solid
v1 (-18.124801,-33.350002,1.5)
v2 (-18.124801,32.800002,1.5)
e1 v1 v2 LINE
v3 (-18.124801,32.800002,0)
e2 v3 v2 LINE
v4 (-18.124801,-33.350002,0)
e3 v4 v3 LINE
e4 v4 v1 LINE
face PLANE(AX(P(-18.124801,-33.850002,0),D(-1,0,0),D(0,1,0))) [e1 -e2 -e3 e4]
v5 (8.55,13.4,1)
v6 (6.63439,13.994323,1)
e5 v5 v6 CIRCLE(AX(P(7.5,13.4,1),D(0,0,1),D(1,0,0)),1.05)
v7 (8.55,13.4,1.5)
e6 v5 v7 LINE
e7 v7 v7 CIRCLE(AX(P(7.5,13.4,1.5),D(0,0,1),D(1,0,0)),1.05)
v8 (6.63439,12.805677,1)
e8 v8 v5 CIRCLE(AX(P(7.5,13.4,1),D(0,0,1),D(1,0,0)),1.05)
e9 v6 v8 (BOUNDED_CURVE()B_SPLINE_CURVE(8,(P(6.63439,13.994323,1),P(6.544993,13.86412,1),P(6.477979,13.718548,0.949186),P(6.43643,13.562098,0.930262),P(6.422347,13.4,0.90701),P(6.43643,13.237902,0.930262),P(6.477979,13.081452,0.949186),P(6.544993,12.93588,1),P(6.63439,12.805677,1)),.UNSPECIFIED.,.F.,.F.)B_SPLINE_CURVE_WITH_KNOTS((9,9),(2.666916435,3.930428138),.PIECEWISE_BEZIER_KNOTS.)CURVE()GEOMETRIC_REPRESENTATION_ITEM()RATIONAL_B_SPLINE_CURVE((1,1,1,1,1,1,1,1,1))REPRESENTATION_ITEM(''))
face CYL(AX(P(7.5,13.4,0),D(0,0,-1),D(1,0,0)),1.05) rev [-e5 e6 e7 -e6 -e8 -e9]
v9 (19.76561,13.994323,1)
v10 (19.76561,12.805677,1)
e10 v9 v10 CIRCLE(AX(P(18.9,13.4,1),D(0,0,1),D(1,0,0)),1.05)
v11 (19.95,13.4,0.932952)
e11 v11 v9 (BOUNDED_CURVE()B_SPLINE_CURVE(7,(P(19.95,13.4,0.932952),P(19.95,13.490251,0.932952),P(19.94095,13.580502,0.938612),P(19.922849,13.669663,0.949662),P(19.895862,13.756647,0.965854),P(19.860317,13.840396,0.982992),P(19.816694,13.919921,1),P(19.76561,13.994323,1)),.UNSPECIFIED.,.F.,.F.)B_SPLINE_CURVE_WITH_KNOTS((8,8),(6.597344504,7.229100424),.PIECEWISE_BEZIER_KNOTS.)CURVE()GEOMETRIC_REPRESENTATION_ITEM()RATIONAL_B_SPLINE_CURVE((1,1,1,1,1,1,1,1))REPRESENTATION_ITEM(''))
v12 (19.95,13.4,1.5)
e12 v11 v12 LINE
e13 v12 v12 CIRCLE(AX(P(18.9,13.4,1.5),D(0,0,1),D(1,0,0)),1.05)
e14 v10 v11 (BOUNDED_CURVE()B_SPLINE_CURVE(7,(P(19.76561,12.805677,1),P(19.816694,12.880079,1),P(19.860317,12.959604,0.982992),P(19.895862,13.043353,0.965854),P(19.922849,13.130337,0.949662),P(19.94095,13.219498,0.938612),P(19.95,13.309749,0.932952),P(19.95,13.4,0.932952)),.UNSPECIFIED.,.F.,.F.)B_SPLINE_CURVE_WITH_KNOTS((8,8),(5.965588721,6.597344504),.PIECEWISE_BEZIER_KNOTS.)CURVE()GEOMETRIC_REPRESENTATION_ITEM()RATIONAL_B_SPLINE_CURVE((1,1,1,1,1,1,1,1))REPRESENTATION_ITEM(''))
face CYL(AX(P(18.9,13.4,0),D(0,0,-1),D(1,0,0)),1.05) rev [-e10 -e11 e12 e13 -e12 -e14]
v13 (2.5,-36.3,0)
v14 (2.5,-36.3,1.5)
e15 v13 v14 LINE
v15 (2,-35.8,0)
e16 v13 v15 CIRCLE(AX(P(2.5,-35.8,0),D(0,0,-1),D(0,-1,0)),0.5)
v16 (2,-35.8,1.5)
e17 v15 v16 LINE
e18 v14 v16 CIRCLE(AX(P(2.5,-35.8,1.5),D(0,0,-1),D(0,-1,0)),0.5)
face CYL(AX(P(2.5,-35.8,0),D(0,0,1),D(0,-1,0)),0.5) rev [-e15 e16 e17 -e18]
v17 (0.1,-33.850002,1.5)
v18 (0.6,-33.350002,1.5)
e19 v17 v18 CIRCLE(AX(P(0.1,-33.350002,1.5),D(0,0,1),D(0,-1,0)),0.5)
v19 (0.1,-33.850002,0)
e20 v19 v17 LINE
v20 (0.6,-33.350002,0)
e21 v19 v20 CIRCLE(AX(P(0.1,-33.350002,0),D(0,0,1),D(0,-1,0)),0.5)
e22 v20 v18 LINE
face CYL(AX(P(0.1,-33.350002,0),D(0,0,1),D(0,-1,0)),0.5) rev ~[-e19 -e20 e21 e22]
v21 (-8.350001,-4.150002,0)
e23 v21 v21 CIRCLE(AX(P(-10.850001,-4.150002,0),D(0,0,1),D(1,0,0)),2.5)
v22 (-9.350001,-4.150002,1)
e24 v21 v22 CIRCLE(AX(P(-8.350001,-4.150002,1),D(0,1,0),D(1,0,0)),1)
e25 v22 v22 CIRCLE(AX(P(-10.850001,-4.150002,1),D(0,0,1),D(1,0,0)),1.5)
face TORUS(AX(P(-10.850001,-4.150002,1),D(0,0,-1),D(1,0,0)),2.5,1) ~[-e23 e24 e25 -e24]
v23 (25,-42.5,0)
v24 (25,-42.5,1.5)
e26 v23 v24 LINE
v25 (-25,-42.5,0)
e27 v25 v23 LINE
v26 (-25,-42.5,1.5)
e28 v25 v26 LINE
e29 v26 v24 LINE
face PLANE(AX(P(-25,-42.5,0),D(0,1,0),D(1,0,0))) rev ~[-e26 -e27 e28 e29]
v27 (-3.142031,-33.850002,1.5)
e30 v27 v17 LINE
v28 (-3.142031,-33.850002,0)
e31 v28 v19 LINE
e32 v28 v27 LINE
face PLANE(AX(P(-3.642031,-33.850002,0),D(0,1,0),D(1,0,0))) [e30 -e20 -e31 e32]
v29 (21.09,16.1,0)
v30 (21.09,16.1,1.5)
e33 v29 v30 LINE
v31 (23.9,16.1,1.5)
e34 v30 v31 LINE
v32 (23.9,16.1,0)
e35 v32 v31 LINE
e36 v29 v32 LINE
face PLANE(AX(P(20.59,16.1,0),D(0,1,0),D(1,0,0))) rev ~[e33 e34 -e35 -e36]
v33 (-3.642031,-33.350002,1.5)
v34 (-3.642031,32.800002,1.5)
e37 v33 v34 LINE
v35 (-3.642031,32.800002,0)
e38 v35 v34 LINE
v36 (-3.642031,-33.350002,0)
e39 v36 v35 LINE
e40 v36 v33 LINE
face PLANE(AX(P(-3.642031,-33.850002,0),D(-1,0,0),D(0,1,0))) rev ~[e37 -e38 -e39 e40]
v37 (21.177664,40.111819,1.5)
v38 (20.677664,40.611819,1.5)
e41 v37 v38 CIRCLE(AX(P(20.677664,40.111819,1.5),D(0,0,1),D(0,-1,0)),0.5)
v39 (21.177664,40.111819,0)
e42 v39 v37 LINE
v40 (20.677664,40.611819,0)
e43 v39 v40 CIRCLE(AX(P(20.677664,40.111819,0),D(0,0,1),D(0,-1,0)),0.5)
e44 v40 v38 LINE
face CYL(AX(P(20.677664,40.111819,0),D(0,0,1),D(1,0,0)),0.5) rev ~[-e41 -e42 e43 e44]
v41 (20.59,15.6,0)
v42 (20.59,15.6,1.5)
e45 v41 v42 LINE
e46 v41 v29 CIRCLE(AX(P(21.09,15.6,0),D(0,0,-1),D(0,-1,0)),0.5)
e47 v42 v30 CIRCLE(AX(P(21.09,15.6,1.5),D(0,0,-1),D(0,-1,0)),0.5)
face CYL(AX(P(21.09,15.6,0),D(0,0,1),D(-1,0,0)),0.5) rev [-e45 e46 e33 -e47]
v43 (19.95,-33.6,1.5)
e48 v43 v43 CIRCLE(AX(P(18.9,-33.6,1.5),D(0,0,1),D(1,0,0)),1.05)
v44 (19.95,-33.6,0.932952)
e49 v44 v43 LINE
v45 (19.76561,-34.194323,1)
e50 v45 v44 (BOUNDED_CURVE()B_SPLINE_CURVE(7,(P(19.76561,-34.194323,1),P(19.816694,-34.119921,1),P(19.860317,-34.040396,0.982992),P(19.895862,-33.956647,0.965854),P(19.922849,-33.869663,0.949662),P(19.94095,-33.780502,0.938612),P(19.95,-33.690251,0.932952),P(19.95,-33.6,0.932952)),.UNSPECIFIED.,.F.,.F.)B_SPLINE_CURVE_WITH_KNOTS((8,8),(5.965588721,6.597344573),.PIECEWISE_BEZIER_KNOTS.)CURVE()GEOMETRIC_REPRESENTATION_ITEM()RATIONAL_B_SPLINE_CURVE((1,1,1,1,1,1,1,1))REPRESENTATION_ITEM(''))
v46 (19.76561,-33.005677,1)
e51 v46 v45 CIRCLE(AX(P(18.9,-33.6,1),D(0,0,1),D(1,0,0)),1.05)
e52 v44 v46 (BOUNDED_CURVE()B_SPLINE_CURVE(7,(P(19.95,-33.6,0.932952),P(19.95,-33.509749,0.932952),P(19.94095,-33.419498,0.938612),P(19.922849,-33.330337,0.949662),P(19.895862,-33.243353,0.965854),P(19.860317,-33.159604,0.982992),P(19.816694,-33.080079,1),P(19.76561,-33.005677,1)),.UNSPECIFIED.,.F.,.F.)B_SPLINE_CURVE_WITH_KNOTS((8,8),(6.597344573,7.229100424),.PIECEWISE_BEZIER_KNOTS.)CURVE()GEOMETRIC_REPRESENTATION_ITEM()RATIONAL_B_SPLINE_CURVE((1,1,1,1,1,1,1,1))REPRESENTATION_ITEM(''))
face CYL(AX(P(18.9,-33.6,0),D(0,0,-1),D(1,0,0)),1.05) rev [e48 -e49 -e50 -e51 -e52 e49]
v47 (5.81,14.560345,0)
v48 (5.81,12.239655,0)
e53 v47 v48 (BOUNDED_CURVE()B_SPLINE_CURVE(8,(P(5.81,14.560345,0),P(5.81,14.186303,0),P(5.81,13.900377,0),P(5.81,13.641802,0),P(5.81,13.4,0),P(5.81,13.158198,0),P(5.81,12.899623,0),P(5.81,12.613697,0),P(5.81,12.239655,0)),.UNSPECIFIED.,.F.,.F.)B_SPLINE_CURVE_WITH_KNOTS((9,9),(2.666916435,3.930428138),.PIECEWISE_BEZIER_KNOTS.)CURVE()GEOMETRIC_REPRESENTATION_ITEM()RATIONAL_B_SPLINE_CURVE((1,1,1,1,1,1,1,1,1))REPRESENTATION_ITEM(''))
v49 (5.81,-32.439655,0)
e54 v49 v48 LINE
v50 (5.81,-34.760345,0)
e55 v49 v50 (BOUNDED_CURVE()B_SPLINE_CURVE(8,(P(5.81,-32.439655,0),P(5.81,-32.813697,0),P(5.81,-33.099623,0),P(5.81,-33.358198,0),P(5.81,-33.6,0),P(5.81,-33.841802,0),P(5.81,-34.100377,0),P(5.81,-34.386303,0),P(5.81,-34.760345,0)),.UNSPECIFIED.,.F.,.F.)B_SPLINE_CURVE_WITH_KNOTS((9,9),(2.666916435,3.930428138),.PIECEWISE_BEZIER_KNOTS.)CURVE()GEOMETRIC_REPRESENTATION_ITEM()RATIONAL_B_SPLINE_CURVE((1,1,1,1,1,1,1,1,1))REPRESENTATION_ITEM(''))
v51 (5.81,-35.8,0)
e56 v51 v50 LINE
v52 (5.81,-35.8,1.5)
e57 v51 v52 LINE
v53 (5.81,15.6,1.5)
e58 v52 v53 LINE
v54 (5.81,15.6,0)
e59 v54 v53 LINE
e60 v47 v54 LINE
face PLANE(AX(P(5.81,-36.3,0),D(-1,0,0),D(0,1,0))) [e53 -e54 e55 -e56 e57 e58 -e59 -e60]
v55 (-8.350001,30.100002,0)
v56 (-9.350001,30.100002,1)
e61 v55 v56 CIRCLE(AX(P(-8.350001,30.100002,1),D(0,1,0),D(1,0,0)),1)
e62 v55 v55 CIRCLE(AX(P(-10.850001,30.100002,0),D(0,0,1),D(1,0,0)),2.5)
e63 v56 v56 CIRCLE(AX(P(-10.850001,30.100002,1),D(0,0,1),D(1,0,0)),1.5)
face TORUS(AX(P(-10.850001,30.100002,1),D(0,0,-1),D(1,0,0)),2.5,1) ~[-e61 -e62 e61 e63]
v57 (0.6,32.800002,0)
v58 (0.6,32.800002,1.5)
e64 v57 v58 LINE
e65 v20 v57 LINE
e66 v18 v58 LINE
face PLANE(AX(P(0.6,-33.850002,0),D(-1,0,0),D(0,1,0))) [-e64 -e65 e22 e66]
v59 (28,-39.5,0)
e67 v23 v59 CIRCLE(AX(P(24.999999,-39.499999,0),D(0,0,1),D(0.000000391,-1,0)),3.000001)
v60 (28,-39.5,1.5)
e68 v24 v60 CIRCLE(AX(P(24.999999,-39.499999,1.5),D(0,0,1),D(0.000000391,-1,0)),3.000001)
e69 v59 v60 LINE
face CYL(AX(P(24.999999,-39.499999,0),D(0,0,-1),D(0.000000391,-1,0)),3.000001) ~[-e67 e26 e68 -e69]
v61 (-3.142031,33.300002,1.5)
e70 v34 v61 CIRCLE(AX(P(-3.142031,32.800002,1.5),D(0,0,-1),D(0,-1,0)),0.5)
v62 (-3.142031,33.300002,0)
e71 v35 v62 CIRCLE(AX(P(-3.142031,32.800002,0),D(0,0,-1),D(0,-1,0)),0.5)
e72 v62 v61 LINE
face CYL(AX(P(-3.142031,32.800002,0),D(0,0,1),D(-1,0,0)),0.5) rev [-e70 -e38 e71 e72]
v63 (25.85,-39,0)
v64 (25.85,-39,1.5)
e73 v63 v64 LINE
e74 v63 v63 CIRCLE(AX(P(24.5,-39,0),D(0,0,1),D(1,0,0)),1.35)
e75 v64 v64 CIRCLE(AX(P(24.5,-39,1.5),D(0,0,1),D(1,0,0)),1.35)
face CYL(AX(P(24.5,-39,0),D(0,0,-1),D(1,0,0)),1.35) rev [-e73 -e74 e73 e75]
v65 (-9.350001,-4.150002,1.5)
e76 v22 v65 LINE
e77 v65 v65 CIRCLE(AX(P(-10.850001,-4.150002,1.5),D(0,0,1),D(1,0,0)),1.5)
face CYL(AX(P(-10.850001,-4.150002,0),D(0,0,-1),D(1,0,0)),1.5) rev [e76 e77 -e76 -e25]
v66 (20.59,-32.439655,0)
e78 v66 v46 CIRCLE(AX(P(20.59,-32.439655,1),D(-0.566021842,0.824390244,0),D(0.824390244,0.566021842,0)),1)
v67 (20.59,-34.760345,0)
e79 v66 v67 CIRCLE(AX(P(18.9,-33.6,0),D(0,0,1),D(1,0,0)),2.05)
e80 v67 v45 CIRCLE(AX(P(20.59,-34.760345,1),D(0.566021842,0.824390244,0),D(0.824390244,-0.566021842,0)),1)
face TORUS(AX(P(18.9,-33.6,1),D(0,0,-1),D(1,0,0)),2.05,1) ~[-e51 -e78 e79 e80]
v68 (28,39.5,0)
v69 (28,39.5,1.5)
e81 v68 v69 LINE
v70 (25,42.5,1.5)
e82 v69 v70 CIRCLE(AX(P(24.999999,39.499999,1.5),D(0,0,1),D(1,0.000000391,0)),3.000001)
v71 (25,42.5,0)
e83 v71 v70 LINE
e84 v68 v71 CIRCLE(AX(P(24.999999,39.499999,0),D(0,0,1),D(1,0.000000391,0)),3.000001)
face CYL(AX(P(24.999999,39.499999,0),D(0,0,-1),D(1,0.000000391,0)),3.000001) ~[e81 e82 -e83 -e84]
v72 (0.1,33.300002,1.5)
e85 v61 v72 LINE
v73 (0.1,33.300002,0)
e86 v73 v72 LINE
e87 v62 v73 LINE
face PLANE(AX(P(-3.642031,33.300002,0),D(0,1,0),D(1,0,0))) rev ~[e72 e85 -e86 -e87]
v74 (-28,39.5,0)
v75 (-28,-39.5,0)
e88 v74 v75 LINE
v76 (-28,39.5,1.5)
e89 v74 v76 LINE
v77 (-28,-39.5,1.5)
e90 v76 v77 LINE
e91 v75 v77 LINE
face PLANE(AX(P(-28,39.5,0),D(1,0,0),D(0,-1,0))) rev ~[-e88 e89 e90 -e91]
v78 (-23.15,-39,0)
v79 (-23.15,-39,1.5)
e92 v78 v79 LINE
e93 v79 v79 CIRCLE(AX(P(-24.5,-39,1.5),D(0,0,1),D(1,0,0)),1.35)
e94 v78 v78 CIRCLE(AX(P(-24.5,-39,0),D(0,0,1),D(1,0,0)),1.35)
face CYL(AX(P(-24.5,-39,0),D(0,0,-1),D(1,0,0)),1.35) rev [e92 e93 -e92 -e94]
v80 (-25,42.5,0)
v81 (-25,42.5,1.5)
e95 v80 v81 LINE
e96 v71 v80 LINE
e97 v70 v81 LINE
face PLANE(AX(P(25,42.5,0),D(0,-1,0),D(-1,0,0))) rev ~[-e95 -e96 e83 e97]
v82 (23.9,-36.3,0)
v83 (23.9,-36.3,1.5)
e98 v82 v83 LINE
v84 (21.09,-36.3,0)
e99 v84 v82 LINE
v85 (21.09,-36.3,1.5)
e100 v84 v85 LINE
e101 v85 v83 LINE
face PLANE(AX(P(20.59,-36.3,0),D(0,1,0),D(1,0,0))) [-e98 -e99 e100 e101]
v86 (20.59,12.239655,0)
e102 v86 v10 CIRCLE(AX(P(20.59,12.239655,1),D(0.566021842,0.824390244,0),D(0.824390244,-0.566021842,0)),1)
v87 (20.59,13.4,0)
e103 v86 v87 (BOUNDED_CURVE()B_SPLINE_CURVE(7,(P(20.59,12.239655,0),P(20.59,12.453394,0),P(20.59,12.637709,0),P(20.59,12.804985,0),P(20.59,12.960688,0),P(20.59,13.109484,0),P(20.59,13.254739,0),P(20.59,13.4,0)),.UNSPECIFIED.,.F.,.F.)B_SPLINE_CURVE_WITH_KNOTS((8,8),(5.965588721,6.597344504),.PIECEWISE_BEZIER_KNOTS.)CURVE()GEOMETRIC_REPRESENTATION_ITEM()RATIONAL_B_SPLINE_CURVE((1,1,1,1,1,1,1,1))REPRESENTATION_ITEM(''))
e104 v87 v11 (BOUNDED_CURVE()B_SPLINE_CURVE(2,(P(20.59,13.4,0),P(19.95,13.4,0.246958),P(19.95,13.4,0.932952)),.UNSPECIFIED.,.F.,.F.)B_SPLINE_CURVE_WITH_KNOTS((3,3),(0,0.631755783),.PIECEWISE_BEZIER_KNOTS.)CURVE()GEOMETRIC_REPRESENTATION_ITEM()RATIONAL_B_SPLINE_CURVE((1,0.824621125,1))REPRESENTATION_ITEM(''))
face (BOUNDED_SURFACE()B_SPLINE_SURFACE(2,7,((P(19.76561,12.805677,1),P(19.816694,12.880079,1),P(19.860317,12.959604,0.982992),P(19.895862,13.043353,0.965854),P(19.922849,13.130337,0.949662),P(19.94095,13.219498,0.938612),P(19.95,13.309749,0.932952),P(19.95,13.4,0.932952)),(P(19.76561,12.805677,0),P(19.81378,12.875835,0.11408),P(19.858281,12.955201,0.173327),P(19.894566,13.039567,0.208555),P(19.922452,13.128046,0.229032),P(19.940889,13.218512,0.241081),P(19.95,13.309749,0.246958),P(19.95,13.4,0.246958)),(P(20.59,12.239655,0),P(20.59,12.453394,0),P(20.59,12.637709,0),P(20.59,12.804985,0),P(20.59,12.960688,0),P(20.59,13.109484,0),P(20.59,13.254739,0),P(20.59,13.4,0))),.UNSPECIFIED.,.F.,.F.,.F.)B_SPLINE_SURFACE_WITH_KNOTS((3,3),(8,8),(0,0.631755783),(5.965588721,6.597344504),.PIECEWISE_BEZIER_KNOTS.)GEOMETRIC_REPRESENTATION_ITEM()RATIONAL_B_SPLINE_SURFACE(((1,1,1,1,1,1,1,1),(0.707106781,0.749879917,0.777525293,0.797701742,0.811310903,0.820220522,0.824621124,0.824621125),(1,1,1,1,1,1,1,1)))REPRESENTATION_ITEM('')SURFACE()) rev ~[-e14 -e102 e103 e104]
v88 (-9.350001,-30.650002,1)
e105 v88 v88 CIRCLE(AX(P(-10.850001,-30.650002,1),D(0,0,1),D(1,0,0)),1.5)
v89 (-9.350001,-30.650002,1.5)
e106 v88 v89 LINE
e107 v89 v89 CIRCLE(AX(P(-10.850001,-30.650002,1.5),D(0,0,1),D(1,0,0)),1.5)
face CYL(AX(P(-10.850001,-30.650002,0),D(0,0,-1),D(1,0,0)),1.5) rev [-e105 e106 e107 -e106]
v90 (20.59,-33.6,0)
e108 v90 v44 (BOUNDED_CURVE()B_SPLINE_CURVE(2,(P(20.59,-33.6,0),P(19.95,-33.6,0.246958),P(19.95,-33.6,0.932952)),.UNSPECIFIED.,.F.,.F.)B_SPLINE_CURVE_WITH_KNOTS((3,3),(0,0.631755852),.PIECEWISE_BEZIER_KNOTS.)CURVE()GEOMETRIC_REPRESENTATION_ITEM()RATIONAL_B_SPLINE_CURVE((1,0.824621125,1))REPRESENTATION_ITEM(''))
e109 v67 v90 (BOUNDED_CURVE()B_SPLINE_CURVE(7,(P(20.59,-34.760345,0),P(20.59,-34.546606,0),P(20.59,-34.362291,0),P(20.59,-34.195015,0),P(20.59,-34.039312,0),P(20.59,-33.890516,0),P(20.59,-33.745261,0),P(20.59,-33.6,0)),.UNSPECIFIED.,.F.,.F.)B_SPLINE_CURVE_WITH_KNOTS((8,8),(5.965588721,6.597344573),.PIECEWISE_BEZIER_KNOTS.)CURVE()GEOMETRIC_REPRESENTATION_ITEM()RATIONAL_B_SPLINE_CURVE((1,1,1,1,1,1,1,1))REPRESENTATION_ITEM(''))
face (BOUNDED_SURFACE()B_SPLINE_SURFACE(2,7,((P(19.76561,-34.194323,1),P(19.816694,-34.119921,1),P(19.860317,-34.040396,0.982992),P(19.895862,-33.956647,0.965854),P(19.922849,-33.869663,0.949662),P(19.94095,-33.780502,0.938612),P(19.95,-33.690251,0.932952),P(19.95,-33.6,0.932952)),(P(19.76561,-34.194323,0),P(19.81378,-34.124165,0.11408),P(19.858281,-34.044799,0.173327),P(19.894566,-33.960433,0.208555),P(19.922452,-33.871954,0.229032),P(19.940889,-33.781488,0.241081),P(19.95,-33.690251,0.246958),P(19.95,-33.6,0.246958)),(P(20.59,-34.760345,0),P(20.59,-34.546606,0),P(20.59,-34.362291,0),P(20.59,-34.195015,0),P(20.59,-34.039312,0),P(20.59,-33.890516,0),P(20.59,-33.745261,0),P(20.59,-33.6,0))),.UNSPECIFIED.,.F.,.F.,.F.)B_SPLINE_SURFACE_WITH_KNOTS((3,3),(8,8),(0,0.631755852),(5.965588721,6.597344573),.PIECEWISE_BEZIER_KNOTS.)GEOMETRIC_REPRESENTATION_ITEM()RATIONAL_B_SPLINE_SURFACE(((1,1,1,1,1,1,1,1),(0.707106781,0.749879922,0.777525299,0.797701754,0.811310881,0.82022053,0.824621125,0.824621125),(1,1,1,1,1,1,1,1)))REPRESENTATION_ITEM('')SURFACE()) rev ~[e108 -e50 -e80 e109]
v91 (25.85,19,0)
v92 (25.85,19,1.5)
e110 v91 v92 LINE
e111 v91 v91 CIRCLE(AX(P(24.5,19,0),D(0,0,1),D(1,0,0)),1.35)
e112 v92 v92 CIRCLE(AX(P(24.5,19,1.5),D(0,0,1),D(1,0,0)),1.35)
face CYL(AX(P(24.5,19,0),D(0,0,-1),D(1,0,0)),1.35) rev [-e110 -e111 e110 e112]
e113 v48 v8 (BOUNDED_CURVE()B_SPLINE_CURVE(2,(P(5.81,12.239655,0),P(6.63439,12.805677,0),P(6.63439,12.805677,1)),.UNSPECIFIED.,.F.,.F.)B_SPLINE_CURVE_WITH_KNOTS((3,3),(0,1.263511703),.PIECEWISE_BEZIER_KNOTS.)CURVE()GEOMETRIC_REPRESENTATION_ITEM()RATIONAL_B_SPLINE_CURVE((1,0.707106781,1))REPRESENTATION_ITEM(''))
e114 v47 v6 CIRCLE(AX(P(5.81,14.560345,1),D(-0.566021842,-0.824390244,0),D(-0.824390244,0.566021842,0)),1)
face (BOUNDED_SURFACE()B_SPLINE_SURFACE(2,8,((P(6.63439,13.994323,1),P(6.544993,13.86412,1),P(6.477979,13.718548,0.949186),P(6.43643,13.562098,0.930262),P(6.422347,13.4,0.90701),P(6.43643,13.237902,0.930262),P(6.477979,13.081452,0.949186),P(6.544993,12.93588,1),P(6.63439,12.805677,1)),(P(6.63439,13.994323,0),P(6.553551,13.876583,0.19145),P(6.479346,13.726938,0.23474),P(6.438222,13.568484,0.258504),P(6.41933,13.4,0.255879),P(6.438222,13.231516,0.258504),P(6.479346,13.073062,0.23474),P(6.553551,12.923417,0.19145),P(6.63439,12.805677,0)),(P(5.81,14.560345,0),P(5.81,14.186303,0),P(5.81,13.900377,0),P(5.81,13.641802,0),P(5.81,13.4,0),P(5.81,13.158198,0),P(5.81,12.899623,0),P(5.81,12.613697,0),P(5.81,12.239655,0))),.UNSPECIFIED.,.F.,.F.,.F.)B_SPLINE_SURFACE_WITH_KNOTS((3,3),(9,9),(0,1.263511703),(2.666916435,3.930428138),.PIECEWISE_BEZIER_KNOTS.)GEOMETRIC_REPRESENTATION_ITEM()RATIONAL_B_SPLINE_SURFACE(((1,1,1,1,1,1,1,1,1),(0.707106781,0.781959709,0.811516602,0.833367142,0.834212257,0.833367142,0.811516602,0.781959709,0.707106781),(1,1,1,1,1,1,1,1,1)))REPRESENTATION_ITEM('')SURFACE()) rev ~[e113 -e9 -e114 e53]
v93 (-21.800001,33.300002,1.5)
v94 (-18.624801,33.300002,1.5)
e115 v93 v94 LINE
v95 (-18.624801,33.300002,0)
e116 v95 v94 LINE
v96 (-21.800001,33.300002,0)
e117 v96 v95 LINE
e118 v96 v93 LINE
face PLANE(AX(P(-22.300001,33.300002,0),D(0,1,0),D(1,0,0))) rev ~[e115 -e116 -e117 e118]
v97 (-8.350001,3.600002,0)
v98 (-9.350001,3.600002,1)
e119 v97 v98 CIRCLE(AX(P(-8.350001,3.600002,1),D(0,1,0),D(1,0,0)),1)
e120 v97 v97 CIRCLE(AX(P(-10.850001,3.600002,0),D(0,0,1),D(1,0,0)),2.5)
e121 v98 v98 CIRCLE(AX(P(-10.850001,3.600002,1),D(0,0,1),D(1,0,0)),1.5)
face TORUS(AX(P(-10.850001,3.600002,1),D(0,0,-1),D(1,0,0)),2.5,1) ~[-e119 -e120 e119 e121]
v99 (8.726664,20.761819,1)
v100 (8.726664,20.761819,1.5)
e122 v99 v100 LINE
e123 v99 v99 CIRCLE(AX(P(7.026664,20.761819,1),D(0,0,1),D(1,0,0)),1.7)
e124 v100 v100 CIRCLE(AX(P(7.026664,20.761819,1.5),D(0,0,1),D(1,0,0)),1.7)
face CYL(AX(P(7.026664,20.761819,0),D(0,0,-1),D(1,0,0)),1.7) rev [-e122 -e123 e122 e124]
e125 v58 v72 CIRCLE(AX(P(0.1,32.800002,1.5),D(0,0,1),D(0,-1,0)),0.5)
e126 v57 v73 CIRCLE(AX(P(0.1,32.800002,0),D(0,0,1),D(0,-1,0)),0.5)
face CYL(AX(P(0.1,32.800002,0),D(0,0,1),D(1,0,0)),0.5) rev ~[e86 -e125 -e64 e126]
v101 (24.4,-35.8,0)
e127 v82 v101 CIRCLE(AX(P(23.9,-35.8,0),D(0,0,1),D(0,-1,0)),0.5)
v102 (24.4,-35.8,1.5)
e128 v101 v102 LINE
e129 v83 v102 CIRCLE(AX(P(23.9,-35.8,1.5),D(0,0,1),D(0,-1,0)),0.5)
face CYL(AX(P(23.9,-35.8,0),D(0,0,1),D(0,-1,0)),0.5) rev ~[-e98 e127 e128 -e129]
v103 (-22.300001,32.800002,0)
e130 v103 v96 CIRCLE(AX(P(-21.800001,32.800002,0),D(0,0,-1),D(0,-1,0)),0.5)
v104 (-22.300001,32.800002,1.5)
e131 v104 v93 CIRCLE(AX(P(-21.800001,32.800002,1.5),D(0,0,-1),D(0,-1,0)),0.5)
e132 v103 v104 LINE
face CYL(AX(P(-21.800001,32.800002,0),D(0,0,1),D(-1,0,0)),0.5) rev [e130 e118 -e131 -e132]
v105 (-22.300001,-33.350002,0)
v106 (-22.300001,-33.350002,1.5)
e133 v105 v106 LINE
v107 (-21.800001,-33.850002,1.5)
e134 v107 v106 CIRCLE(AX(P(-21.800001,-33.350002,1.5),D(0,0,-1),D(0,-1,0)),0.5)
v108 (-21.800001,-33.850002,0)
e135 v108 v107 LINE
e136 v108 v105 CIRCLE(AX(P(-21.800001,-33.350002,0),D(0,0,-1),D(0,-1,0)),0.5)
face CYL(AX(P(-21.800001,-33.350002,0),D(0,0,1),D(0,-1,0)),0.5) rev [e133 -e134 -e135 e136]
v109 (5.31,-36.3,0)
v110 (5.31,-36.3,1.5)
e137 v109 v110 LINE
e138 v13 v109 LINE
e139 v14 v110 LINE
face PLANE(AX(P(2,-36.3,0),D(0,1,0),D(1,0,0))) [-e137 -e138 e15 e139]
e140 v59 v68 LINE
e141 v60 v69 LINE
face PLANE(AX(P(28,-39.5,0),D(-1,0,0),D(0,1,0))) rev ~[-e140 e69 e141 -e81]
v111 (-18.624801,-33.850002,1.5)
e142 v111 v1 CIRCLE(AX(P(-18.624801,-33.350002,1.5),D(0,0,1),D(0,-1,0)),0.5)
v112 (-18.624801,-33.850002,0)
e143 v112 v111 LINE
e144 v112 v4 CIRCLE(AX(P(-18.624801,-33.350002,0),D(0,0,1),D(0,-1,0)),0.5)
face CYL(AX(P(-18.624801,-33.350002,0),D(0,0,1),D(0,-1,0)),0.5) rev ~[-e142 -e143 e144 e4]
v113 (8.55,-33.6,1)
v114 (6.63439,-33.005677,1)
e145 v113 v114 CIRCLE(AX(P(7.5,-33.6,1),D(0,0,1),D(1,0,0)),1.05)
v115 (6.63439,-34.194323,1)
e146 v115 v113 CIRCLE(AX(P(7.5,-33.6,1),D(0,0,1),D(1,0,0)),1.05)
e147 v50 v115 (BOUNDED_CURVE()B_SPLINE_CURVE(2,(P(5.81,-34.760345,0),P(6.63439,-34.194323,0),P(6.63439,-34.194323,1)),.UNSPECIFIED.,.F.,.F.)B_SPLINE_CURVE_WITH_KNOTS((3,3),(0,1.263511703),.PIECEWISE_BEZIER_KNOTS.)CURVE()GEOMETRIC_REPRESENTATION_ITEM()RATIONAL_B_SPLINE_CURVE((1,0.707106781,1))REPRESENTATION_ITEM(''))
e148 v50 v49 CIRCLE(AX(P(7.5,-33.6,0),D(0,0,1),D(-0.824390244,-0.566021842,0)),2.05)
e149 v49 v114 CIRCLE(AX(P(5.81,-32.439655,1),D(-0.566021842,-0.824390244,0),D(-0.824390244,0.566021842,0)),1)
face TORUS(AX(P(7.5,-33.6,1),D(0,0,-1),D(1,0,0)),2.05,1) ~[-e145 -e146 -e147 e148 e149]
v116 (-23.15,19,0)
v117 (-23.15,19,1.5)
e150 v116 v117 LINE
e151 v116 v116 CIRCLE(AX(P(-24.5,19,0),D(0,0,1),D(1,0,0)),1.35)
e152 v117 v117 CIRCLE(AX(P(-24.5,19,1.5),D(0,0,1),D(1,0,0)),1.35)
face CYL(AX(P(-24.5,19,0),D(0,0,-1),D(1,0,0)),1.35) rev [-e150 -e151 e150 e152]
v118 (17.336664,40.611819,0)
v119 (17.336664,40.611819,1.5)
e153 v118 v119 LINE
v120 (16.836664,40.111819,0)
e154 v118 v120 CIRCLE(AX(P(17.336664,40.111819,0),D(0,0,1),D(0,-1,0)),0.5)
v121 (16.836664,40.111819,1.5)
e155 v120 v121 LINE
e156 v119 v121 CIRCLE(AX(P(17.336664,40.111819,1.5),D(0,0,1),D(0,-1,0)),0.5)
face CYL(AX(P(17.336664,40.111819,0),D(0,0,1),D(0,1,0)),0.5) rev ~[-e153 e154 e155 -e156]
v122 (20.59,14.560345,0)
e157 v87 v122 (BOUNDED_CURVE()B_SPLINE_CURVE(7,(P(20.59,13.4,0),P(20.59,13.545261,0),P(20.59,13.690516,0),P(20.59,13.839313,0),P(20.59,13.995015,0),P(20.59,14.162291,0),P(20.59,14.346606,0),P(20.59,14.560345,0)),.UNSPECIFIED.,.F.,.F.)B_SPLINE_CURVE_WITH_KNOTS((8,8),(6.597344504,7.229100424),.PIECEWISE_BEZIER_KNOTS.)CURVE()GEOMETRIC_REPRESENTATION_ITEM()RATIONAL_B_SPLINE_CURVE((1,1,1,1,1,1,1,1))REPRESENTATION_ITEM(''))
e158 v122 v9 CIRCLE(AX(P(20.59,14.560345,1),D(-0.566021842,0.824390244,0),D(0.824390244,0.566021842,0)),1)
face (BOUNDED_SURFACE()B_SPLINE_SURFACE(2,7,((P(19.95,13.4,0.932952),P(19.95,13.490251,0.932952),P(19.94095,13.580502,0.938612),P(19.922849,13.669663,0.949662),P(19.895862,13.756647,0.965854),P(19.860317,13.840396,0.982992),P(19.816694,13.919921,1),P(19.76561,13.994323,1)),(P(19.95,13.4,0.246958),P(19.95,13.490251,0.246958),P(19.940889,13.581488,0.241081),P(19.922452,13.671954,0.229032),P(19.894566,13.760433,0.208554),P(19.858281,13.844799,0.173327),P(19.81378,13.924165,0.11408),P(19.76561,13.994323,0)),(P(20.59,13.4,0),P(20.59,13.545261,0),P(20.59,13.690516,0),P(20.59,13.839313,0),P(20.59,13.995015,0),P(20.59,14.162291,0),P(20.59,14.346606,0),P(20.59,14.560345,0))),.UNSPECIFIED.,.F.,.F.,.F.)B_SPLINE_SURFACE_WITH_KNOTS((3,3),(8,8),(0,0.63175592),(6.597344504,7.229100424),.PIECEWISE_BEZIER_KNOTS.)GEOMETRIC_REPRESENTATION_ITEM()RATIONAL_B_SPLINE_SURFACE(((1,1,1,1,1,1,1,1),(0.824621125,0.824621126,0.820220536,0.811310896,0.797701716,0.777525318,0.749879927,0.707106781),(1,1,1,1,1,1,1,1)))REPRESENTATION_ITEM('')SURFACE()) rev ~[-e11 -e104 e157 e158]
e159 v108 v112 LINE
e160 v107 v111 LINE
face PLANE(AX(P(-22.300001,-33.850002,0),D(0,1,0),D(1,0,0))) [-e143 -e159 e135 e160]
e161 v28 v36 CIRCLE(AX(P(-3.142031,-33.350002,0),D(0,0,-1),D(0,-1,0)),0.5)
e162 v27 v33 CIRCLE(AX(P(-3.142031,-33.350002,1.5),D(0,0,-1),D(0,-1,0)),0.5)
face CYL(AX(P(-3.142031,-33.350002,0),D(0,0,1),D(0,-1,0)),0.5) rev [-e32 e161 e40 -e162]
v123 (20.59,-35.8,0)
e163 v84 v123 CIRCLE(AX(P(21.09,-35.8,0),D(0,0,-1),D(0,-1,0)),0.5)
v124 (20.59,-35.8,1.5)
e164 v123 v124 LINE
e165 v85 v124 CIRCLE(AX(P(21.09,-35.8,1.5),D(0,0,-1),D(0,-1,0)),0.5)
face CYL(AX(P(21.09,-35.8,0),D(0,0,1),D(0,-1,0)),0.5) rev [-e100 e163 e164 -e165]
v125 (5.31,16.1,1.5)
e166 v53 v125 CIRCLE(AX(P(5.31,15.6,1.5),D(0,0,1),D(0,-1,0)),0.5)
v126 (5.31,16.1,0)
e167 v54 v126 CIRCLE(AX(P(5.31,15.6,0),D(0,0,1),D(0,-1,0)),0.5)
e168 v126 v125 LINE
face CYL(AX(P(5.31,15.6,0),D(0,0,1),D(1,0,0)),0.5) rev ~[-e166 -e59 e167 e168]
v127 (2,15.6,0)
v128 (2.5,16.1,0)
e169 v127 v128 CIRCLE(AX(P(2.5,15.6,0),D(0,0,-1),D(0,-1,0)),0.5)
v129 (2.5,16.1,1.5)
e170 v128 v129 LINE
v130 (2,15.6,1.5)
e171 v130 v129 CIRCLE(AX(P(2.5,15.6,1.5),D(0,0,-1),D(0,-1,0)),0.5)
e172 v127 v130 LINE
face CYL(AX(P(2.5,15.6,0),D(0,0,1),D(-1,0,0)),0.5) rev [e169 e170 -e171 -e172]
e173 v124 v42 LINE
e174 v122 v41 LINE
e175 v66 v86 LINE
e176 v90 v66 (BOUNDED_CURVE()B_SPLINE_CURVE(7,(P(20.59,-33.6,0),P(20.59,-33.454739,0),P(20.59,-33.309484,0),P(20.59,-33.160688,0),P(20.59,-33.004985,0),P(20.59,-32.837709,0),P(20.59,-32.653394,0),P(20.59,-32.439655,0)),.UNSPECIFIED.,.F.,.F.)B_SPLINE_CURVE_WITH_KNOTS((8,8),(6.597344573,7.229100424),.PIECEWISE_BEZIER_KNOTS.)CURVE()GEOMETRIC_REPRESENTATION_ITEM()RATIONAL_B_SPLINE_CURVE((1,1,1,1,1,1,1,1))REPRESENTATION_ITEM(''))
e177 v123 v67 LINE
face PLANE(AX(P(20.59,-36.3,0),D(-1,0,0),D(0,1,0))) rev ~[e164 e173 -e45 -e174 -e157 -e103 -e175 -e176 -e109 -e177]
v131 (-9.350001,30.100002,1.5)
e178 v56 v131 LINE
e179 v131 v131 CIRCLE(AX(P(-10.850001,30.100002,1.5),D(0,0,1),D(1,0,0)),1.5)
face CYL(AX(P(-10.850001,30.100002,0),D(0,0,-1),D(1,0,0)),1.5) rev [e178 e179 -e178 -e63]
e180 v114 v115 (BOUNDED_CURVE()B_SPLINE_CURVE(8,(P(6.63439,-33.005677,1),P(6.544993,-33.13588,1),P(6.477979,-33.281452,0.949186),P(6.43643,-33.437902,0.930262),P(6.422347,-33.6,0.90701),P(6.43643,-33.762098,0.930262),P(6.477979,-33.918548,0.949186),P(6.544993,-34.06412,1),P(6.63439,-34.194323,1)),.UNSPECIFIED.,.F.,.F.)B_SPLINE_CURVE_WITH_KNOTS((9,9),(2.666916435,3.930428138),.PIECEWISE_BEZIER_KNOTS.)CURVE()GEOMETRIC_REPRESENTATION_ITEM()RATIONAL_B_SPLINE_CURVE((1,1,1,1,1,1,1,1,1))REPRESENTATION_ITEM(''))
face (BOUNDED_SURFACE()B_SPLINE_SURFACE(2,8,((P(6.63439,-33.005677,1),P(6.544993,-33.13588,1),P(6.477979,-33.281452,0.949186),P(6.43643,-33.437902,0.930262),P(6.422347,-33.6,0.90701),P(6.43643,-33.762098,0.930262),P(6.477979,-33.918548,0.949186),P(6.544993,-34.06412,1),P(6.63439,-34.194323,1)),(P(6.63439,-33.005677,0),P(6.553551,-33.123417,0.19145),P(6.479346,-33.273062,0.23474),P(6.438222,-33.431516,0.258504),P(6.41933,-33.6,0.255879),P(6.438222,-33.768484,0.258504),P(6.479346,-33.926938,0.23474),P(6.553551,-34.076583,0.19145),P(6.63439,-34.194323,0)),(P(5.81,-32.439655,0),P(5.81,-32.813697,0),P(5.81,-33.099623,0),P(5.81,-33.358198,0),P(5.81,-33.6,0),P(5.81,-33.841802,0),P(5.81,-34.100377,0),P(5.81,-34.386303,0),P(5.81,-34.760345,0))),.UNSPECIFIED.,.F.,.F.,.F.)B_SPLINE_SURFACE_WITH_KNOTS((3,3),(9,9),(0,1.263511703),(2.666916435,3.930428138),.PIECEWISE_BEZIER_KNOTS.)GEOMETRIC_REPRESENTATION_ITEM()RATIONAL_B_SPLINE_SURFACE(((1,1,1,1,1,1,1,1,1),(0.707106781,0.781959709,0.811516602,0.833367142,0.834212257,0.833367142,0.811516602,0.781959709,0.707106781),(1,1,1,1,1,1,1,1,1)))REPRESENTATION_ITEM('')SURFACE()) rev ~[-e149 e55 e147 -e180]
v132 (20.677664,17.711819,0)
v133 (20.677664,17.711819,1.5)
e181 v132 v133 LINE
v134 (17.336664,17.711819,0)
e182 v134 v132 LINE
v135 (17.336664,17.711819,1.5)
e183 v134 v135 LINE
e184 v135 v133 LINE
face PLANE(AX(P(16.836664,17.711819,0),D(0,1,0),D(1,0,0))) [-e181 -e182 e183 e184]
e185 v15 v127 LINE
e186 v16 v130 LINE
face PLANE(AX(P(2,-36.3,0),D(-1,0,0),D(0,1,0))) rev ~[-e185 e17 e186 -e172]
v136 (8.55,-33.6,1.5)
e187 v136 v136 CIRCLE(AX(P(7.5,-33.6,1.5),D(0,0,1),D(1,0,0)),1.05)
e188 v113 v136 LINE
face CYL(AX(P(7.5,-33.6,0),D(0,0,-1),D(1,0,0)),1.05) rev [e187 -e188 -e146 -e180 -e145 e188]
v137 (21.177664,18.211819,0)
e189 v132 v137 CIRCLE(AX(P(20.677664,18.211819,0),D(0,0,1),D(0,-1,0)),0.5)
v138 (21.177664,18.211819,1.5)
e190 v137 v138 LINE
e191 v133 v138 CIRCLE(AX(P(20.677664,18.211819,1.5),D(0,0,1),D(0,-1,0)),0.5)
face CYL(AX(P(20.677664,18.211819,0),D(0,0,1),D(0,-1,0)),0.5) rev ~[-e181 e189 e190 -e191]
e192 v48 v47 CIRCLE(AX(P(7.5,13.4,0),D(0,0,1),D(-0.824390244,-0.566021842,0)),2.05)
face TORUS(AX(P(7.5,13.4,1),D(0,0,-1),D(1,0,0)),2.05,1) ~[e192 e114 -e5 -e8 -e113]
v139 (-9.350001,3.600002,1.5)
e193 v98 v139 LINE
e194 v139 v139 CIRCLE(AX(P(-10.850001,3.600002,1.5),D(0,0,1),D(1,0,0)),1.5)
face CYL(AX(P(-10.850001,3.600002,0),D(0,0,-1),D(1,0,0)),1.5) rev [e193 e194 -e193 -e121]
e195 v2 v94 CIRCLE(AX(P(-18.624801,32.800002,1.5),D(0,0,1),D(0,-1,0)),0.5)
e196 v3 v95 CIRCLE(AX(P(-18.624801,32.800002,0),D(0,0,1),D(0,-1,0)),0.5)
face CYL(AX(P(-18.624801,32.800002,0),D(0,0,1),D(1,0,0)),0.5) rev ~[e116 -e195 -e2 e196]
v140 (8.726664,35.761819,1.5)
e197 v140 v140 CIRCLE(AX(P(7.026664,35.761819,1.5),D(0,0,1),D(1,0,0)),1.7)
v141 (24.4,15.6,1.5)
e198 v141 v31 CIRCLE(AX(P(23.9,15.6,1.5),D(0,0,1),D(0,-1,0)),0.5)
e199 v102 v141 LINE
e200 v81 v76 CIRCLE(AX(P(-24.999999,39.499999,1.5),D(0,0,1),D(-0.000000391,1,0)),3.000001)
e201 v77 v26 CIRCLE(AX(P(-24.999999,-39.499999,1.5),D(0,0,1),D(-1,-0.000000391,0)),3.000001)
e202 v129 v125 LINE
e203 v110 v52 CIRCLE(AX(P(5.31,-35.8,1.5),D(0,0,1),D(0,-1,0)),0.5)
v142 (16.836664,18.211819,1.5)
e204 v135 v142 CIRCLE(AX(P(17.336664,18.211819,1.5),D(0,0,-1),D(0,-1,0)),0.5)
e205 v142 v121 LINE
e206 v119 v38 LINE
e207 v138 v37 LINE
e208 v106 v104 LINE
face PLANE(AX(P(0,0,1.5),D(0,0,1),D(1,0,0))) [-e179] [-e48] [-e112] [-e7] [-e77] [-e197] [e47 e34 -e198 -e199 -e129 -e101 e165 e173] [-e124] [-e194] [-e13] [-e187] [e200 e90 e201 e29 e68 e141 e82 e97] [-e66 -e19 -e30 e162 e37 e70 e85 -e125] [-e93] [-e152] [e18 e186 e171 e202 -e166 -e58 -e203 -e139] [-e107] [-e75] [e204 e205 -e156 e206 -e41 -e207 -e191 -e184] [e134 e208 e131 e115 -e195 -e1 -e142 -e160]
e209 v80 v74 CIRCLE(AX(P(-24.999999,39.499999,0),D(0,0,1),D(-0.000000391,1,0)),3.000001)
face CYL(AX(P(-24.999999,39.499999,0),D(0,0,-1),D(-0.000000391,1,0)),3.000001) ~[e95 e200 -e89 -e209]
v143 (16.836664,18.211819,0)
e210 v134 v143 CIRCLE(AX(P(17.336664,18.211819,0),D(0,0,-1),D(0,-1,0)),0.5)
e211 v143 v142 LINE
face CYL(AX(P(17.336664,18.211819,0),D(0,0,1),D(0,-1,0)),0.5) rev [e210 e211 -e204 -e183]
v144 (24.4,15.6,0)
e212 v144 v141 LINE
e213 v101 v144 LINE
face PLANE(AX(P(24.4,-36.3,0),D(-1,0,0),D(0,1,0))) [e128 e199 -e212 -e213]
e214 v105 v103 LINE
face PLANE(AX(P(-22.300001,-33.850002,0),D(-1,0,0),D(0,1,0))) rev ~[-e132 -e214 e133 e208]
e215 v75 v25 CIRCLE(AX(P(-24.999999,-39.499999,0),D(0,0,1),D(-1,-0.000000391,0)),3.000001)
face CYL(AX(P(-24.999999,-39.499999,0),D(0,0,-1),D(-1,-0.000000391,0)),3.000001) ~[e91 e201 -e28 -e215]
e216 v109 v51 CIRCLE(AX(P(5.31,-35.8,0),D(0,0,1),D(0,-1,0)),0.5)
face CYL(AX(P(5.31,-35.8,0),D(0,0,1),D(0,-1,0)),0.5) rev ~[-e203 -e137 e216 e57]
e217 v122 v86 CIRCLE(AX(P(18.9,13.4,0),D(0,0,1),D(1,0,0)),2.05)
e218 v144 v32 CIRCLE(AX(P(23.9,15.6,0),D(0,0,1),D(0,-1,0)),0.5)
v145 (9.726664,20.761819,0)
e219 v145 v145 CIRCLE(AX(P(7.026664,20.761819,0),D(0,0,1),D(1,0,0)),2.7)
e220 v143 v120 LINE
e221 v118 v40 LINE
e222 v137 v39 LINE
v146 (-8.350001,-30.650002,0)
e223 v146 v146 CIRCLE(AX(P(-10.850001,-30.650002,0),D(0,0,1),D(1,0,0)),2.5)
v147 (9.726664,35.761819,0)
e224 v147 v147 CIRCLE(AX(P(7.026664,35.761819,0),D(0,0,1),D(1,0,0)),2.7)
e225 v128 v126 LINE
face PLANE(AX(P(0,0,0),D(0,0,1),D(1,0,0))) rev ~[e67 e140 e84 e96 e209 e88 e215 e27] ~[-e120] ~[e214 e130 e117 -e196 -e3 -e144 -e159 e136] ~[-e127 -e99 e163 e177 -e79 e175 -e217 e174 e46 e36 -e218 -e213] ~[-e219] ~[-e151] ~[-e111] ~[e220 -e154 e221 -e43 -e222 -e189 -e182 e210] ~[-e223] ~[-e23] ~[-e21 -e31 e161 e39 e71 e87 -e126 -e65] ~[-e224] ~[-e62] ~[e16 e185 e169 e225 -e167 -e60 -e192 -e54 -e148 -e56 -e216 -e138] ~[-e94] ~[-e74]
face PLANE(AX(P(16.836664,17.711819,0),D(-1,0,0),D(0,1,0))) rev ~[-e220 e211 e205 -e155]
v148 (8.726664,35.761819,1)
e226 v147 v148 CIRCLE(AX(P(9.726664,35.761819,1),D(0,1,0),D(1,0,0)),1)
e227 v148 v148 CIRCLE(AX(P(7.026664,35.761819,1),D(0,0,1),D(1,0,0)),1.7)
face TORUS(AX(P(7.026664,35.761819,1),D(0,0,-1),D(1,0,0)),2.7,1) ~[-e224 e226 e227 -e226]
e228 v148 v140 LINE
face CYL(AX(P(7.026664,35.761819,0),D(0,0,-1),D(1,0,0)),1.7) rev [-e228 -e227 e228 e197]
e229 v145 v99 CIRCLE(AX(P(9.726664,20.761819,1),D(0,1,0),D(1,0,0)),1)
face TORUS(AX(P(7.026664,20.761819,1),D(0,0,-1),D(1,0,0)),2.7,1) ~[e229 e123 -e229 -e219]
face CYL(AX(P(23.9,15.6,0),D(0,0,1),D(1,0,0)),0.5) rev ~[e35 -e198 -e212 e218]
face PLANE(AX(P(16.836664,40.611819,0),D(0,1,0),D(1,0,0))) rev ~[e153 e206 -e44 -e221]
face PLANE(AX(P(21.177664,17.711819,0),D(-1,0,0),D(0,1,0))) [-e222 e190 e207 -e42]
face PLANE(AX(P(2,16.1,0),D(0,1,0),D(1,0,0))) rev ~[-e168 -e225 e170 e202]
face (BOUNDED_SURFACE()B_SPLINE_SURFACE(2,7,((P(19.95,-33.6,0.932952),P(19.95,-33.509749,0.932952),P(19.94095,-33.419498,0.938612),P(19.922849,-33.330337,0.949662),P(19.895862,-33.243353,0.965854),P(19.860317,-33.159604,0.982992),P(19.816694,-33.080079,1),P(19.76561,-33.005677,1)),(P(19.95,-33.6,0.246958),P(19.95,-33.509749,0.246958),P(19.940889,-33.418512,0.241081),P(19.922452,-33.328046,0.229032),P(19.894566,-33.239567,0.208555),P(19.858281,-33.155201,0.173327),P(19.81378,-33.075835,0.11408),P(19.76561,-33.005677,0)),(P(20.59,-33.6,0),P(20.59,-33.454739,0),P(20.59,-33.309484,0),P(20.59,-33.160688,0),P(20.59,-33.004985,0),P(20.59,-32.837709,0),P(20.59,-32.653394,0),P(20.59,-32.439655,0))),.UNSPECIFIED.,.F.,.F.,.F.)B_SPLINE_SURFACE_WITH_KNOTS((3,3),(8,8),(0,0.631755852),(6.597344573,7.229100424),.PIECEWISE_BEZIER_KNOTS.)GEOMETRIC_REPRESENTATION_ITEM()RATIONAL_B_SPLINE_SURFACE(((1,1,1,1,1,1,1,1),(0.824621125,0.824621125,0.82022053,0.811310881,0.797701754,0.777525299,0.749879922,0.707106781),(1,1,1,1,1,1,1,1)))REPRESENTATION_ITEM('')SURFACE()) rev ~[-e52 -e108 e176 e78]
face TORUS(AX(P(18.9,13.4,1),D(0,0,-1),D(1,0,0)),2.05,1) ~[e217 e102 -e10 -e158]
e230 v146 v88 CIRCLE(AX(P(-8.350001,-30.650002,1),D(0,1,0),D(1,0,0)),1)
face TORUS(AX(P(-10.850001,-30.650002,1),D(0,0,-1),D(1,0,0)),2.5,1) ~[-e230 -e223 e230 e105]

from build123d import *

# Parameters (mm, degrees)
SKETCH001_R   = 1.35
SKETCH001_R_2 = 1.05
SKETCH001_R_3 = 1.5
SKETCH001_R_4 = 1.7
SKETCH001_W   = 3.81
SKETCH001_H   = 52.4
SKETCH001_W_2 = 4.1752
SKETCH001_H_2 = 67.150004
SKETCH001_W_3 = 4.242031
SKETCH001_W_4 = 4.341
SKETCH001_H_3 = 22.9
PAD_DEPTH     = 1.5
FILLET_R      = 0.5
FILLET001_R   = 1


with BuildPart() as part:
    # Sketch001 → Pad (new body)
    with BuildSketch(Plane.XY):
        with BuildLine():
            Line((-28, 39.5), (-28, -39.5))
            ThreePointArc((-28, -39.5), (-27.12132, -41.62132), (-25, -42.5))
            Line((-25, -42.5), (25, -42.5))
            ThreePointArc((25, -42.5), (27.12132, -41.62132), (28, -39.5))
            Line((28, -39.5), (28, 39.5))
            ThreePointArc((28, 39.5), (27.12132, 41.62132), (25, 42.5))
            Line((25, 42.5), (-25, 42.5))
            ThreePointArc((-25, 42.5), (-27.12132, 41.62132), (-28, 39.5))
        make_face()
        with Locations((-24.5, 19)):
            Circle(SKETCH001_R, mode=Mode.SUBTRACT)
        with Locations((24.5, 19)):
            Circle(SKETCH001_R, mode=Mode.SUBTRACT)
        with Locations((24.5, -39)):
            Circle(SKETCH001_R, mode=Mode.SUBTRACT)
        with Locations((-24.5, -39)):
            Circle(SKETCH001_R, mode=Mode.SUBTRACT)
        with Locations((7.5, 13.4)):
            Circle(SKETCH001_R_2, mode=Mode.SUBTRACT)
        with Locations((18.9, 13.4)):
            Circle(SKETCH001_R_2, mode=Mode.SUBTRACT)
        with Locations((18.9, -33.6)):
            Circle(SKETCH001_R_2, mode=Mode.SUBTRACT)
        with Locations((7.5, -33.6)):
            Circle(SKETCH001_R_2, mode=Mode.SUBTRACT)
        with Locations((-10.850001, -30.650002)):
            Circle(SKETCH001_R_3, mode=Mode.SUBTRACT)
        with Locations((-10.850001, -4.150002)):
            Circle(SKETCH001_R_3, mode=Mode.SUBTRACT)
        with Locations((-10.850001, 3.600002)):
            Circle(SKETCH001_R_3, mode=Mode.SUBTRACT)
        with Locations((-10.850001, 30.100002)):
            Circle(SKETCH001_R_3, mode=Mode.SUBTRACT)
        with Locations((7.026664, 20.761819)):
            Circle(SKETCH001_R_4, mode=Mode.SUBTRACT)
        with Locations((7.026664, 35.761819)):
            Circle(SKETCH001_R_4, mode=Mode.SUBTRACT)
        with Locations((3.905, -10.1)):
            Rectangle(SKETCH001_W, SKETCH001_H, mode=Mode.SUBTRACT)
        with Locations((22.495, -10.1)):
            Rectangle(SKETCH001_W, SKETCH001_H, mode=Mode.SUBTRACT)
        with Locations((-20.212401, -0.275)):
            Rectangle(SKETCH001_W_2, SKETCH001_H_2, mode=Mode.SUBTRACT)
        with Locations((-1.521016, -0.275)):
            Rectangle(SKETCH001_W_3, SKETCH001_H_2, mode=Mode.SUBTRACT)
        with Locations((19.007164, 29.161819)):
            Rectangle(SKETCH001_W_4, SKETCH001_H_3, mode=Mode.SUBTRACT)
    extrude(amount=PAD_DEPTH)

    # Fillet
    fillet_edges = [part.edges().sort_by_distance(p)[0] for p in [
        (20.59, -36.3, 0.75),
        (24.4, -36.3, 0.75),
        (5.81, -36.3, 0.75),
        (2, -36.3, 0.75),
        (24.4, 16.1, 0.75),
        (5.81, 16.1, 0.75),
        (20.59, 16.1, 0.75),
        (2, 16.1, 0.75),
        (21.177664, 17.711819, 0.75),
        (16.836664, 17.711819, 0.75),
        (21.177664, 40.611819, 0.75),
        (16.836664, 40.611819, 0.75),
        (0.599999, 33.300002, 0.75),
        (-3.642032, 33.300002, 0.75),
        (-18.124801, 33.300002, 0.75),
        (-22.300001, 33.300002, 0.75),
        (0.599999, -33.850002, 0.75),
        (-18.124801, -33.850002, 0.75),
        (-22.300001, -33.850002, 0.75),
        (-3.642032, -33.850002, 0.75),
    ]]
    fillet(fillet_edges, radius=FILLET_R)

    # Fillet001
    fillet001_edges = [part.edges().sort_by_distance(p)[0] for p in [
        (5.326664, 35.761819, 0),
        (5.326664, 20.761819, 0),
        (17.85, -33.6, 0),
        (6.45, -33.6, 0),
        (17.85, 13.4, 0),
        (6.45, 13.4, 0),
        (-12.350001, 30.100002, 0),
        (-12.350001, 3.600002, 0),
        (-12.350001, -4.150002, 0),
        (-12.350001, -30.650002, 0),
    ]]
    fillet(fillet001_edges, radius=FILLET001_R)


solid = part.part
